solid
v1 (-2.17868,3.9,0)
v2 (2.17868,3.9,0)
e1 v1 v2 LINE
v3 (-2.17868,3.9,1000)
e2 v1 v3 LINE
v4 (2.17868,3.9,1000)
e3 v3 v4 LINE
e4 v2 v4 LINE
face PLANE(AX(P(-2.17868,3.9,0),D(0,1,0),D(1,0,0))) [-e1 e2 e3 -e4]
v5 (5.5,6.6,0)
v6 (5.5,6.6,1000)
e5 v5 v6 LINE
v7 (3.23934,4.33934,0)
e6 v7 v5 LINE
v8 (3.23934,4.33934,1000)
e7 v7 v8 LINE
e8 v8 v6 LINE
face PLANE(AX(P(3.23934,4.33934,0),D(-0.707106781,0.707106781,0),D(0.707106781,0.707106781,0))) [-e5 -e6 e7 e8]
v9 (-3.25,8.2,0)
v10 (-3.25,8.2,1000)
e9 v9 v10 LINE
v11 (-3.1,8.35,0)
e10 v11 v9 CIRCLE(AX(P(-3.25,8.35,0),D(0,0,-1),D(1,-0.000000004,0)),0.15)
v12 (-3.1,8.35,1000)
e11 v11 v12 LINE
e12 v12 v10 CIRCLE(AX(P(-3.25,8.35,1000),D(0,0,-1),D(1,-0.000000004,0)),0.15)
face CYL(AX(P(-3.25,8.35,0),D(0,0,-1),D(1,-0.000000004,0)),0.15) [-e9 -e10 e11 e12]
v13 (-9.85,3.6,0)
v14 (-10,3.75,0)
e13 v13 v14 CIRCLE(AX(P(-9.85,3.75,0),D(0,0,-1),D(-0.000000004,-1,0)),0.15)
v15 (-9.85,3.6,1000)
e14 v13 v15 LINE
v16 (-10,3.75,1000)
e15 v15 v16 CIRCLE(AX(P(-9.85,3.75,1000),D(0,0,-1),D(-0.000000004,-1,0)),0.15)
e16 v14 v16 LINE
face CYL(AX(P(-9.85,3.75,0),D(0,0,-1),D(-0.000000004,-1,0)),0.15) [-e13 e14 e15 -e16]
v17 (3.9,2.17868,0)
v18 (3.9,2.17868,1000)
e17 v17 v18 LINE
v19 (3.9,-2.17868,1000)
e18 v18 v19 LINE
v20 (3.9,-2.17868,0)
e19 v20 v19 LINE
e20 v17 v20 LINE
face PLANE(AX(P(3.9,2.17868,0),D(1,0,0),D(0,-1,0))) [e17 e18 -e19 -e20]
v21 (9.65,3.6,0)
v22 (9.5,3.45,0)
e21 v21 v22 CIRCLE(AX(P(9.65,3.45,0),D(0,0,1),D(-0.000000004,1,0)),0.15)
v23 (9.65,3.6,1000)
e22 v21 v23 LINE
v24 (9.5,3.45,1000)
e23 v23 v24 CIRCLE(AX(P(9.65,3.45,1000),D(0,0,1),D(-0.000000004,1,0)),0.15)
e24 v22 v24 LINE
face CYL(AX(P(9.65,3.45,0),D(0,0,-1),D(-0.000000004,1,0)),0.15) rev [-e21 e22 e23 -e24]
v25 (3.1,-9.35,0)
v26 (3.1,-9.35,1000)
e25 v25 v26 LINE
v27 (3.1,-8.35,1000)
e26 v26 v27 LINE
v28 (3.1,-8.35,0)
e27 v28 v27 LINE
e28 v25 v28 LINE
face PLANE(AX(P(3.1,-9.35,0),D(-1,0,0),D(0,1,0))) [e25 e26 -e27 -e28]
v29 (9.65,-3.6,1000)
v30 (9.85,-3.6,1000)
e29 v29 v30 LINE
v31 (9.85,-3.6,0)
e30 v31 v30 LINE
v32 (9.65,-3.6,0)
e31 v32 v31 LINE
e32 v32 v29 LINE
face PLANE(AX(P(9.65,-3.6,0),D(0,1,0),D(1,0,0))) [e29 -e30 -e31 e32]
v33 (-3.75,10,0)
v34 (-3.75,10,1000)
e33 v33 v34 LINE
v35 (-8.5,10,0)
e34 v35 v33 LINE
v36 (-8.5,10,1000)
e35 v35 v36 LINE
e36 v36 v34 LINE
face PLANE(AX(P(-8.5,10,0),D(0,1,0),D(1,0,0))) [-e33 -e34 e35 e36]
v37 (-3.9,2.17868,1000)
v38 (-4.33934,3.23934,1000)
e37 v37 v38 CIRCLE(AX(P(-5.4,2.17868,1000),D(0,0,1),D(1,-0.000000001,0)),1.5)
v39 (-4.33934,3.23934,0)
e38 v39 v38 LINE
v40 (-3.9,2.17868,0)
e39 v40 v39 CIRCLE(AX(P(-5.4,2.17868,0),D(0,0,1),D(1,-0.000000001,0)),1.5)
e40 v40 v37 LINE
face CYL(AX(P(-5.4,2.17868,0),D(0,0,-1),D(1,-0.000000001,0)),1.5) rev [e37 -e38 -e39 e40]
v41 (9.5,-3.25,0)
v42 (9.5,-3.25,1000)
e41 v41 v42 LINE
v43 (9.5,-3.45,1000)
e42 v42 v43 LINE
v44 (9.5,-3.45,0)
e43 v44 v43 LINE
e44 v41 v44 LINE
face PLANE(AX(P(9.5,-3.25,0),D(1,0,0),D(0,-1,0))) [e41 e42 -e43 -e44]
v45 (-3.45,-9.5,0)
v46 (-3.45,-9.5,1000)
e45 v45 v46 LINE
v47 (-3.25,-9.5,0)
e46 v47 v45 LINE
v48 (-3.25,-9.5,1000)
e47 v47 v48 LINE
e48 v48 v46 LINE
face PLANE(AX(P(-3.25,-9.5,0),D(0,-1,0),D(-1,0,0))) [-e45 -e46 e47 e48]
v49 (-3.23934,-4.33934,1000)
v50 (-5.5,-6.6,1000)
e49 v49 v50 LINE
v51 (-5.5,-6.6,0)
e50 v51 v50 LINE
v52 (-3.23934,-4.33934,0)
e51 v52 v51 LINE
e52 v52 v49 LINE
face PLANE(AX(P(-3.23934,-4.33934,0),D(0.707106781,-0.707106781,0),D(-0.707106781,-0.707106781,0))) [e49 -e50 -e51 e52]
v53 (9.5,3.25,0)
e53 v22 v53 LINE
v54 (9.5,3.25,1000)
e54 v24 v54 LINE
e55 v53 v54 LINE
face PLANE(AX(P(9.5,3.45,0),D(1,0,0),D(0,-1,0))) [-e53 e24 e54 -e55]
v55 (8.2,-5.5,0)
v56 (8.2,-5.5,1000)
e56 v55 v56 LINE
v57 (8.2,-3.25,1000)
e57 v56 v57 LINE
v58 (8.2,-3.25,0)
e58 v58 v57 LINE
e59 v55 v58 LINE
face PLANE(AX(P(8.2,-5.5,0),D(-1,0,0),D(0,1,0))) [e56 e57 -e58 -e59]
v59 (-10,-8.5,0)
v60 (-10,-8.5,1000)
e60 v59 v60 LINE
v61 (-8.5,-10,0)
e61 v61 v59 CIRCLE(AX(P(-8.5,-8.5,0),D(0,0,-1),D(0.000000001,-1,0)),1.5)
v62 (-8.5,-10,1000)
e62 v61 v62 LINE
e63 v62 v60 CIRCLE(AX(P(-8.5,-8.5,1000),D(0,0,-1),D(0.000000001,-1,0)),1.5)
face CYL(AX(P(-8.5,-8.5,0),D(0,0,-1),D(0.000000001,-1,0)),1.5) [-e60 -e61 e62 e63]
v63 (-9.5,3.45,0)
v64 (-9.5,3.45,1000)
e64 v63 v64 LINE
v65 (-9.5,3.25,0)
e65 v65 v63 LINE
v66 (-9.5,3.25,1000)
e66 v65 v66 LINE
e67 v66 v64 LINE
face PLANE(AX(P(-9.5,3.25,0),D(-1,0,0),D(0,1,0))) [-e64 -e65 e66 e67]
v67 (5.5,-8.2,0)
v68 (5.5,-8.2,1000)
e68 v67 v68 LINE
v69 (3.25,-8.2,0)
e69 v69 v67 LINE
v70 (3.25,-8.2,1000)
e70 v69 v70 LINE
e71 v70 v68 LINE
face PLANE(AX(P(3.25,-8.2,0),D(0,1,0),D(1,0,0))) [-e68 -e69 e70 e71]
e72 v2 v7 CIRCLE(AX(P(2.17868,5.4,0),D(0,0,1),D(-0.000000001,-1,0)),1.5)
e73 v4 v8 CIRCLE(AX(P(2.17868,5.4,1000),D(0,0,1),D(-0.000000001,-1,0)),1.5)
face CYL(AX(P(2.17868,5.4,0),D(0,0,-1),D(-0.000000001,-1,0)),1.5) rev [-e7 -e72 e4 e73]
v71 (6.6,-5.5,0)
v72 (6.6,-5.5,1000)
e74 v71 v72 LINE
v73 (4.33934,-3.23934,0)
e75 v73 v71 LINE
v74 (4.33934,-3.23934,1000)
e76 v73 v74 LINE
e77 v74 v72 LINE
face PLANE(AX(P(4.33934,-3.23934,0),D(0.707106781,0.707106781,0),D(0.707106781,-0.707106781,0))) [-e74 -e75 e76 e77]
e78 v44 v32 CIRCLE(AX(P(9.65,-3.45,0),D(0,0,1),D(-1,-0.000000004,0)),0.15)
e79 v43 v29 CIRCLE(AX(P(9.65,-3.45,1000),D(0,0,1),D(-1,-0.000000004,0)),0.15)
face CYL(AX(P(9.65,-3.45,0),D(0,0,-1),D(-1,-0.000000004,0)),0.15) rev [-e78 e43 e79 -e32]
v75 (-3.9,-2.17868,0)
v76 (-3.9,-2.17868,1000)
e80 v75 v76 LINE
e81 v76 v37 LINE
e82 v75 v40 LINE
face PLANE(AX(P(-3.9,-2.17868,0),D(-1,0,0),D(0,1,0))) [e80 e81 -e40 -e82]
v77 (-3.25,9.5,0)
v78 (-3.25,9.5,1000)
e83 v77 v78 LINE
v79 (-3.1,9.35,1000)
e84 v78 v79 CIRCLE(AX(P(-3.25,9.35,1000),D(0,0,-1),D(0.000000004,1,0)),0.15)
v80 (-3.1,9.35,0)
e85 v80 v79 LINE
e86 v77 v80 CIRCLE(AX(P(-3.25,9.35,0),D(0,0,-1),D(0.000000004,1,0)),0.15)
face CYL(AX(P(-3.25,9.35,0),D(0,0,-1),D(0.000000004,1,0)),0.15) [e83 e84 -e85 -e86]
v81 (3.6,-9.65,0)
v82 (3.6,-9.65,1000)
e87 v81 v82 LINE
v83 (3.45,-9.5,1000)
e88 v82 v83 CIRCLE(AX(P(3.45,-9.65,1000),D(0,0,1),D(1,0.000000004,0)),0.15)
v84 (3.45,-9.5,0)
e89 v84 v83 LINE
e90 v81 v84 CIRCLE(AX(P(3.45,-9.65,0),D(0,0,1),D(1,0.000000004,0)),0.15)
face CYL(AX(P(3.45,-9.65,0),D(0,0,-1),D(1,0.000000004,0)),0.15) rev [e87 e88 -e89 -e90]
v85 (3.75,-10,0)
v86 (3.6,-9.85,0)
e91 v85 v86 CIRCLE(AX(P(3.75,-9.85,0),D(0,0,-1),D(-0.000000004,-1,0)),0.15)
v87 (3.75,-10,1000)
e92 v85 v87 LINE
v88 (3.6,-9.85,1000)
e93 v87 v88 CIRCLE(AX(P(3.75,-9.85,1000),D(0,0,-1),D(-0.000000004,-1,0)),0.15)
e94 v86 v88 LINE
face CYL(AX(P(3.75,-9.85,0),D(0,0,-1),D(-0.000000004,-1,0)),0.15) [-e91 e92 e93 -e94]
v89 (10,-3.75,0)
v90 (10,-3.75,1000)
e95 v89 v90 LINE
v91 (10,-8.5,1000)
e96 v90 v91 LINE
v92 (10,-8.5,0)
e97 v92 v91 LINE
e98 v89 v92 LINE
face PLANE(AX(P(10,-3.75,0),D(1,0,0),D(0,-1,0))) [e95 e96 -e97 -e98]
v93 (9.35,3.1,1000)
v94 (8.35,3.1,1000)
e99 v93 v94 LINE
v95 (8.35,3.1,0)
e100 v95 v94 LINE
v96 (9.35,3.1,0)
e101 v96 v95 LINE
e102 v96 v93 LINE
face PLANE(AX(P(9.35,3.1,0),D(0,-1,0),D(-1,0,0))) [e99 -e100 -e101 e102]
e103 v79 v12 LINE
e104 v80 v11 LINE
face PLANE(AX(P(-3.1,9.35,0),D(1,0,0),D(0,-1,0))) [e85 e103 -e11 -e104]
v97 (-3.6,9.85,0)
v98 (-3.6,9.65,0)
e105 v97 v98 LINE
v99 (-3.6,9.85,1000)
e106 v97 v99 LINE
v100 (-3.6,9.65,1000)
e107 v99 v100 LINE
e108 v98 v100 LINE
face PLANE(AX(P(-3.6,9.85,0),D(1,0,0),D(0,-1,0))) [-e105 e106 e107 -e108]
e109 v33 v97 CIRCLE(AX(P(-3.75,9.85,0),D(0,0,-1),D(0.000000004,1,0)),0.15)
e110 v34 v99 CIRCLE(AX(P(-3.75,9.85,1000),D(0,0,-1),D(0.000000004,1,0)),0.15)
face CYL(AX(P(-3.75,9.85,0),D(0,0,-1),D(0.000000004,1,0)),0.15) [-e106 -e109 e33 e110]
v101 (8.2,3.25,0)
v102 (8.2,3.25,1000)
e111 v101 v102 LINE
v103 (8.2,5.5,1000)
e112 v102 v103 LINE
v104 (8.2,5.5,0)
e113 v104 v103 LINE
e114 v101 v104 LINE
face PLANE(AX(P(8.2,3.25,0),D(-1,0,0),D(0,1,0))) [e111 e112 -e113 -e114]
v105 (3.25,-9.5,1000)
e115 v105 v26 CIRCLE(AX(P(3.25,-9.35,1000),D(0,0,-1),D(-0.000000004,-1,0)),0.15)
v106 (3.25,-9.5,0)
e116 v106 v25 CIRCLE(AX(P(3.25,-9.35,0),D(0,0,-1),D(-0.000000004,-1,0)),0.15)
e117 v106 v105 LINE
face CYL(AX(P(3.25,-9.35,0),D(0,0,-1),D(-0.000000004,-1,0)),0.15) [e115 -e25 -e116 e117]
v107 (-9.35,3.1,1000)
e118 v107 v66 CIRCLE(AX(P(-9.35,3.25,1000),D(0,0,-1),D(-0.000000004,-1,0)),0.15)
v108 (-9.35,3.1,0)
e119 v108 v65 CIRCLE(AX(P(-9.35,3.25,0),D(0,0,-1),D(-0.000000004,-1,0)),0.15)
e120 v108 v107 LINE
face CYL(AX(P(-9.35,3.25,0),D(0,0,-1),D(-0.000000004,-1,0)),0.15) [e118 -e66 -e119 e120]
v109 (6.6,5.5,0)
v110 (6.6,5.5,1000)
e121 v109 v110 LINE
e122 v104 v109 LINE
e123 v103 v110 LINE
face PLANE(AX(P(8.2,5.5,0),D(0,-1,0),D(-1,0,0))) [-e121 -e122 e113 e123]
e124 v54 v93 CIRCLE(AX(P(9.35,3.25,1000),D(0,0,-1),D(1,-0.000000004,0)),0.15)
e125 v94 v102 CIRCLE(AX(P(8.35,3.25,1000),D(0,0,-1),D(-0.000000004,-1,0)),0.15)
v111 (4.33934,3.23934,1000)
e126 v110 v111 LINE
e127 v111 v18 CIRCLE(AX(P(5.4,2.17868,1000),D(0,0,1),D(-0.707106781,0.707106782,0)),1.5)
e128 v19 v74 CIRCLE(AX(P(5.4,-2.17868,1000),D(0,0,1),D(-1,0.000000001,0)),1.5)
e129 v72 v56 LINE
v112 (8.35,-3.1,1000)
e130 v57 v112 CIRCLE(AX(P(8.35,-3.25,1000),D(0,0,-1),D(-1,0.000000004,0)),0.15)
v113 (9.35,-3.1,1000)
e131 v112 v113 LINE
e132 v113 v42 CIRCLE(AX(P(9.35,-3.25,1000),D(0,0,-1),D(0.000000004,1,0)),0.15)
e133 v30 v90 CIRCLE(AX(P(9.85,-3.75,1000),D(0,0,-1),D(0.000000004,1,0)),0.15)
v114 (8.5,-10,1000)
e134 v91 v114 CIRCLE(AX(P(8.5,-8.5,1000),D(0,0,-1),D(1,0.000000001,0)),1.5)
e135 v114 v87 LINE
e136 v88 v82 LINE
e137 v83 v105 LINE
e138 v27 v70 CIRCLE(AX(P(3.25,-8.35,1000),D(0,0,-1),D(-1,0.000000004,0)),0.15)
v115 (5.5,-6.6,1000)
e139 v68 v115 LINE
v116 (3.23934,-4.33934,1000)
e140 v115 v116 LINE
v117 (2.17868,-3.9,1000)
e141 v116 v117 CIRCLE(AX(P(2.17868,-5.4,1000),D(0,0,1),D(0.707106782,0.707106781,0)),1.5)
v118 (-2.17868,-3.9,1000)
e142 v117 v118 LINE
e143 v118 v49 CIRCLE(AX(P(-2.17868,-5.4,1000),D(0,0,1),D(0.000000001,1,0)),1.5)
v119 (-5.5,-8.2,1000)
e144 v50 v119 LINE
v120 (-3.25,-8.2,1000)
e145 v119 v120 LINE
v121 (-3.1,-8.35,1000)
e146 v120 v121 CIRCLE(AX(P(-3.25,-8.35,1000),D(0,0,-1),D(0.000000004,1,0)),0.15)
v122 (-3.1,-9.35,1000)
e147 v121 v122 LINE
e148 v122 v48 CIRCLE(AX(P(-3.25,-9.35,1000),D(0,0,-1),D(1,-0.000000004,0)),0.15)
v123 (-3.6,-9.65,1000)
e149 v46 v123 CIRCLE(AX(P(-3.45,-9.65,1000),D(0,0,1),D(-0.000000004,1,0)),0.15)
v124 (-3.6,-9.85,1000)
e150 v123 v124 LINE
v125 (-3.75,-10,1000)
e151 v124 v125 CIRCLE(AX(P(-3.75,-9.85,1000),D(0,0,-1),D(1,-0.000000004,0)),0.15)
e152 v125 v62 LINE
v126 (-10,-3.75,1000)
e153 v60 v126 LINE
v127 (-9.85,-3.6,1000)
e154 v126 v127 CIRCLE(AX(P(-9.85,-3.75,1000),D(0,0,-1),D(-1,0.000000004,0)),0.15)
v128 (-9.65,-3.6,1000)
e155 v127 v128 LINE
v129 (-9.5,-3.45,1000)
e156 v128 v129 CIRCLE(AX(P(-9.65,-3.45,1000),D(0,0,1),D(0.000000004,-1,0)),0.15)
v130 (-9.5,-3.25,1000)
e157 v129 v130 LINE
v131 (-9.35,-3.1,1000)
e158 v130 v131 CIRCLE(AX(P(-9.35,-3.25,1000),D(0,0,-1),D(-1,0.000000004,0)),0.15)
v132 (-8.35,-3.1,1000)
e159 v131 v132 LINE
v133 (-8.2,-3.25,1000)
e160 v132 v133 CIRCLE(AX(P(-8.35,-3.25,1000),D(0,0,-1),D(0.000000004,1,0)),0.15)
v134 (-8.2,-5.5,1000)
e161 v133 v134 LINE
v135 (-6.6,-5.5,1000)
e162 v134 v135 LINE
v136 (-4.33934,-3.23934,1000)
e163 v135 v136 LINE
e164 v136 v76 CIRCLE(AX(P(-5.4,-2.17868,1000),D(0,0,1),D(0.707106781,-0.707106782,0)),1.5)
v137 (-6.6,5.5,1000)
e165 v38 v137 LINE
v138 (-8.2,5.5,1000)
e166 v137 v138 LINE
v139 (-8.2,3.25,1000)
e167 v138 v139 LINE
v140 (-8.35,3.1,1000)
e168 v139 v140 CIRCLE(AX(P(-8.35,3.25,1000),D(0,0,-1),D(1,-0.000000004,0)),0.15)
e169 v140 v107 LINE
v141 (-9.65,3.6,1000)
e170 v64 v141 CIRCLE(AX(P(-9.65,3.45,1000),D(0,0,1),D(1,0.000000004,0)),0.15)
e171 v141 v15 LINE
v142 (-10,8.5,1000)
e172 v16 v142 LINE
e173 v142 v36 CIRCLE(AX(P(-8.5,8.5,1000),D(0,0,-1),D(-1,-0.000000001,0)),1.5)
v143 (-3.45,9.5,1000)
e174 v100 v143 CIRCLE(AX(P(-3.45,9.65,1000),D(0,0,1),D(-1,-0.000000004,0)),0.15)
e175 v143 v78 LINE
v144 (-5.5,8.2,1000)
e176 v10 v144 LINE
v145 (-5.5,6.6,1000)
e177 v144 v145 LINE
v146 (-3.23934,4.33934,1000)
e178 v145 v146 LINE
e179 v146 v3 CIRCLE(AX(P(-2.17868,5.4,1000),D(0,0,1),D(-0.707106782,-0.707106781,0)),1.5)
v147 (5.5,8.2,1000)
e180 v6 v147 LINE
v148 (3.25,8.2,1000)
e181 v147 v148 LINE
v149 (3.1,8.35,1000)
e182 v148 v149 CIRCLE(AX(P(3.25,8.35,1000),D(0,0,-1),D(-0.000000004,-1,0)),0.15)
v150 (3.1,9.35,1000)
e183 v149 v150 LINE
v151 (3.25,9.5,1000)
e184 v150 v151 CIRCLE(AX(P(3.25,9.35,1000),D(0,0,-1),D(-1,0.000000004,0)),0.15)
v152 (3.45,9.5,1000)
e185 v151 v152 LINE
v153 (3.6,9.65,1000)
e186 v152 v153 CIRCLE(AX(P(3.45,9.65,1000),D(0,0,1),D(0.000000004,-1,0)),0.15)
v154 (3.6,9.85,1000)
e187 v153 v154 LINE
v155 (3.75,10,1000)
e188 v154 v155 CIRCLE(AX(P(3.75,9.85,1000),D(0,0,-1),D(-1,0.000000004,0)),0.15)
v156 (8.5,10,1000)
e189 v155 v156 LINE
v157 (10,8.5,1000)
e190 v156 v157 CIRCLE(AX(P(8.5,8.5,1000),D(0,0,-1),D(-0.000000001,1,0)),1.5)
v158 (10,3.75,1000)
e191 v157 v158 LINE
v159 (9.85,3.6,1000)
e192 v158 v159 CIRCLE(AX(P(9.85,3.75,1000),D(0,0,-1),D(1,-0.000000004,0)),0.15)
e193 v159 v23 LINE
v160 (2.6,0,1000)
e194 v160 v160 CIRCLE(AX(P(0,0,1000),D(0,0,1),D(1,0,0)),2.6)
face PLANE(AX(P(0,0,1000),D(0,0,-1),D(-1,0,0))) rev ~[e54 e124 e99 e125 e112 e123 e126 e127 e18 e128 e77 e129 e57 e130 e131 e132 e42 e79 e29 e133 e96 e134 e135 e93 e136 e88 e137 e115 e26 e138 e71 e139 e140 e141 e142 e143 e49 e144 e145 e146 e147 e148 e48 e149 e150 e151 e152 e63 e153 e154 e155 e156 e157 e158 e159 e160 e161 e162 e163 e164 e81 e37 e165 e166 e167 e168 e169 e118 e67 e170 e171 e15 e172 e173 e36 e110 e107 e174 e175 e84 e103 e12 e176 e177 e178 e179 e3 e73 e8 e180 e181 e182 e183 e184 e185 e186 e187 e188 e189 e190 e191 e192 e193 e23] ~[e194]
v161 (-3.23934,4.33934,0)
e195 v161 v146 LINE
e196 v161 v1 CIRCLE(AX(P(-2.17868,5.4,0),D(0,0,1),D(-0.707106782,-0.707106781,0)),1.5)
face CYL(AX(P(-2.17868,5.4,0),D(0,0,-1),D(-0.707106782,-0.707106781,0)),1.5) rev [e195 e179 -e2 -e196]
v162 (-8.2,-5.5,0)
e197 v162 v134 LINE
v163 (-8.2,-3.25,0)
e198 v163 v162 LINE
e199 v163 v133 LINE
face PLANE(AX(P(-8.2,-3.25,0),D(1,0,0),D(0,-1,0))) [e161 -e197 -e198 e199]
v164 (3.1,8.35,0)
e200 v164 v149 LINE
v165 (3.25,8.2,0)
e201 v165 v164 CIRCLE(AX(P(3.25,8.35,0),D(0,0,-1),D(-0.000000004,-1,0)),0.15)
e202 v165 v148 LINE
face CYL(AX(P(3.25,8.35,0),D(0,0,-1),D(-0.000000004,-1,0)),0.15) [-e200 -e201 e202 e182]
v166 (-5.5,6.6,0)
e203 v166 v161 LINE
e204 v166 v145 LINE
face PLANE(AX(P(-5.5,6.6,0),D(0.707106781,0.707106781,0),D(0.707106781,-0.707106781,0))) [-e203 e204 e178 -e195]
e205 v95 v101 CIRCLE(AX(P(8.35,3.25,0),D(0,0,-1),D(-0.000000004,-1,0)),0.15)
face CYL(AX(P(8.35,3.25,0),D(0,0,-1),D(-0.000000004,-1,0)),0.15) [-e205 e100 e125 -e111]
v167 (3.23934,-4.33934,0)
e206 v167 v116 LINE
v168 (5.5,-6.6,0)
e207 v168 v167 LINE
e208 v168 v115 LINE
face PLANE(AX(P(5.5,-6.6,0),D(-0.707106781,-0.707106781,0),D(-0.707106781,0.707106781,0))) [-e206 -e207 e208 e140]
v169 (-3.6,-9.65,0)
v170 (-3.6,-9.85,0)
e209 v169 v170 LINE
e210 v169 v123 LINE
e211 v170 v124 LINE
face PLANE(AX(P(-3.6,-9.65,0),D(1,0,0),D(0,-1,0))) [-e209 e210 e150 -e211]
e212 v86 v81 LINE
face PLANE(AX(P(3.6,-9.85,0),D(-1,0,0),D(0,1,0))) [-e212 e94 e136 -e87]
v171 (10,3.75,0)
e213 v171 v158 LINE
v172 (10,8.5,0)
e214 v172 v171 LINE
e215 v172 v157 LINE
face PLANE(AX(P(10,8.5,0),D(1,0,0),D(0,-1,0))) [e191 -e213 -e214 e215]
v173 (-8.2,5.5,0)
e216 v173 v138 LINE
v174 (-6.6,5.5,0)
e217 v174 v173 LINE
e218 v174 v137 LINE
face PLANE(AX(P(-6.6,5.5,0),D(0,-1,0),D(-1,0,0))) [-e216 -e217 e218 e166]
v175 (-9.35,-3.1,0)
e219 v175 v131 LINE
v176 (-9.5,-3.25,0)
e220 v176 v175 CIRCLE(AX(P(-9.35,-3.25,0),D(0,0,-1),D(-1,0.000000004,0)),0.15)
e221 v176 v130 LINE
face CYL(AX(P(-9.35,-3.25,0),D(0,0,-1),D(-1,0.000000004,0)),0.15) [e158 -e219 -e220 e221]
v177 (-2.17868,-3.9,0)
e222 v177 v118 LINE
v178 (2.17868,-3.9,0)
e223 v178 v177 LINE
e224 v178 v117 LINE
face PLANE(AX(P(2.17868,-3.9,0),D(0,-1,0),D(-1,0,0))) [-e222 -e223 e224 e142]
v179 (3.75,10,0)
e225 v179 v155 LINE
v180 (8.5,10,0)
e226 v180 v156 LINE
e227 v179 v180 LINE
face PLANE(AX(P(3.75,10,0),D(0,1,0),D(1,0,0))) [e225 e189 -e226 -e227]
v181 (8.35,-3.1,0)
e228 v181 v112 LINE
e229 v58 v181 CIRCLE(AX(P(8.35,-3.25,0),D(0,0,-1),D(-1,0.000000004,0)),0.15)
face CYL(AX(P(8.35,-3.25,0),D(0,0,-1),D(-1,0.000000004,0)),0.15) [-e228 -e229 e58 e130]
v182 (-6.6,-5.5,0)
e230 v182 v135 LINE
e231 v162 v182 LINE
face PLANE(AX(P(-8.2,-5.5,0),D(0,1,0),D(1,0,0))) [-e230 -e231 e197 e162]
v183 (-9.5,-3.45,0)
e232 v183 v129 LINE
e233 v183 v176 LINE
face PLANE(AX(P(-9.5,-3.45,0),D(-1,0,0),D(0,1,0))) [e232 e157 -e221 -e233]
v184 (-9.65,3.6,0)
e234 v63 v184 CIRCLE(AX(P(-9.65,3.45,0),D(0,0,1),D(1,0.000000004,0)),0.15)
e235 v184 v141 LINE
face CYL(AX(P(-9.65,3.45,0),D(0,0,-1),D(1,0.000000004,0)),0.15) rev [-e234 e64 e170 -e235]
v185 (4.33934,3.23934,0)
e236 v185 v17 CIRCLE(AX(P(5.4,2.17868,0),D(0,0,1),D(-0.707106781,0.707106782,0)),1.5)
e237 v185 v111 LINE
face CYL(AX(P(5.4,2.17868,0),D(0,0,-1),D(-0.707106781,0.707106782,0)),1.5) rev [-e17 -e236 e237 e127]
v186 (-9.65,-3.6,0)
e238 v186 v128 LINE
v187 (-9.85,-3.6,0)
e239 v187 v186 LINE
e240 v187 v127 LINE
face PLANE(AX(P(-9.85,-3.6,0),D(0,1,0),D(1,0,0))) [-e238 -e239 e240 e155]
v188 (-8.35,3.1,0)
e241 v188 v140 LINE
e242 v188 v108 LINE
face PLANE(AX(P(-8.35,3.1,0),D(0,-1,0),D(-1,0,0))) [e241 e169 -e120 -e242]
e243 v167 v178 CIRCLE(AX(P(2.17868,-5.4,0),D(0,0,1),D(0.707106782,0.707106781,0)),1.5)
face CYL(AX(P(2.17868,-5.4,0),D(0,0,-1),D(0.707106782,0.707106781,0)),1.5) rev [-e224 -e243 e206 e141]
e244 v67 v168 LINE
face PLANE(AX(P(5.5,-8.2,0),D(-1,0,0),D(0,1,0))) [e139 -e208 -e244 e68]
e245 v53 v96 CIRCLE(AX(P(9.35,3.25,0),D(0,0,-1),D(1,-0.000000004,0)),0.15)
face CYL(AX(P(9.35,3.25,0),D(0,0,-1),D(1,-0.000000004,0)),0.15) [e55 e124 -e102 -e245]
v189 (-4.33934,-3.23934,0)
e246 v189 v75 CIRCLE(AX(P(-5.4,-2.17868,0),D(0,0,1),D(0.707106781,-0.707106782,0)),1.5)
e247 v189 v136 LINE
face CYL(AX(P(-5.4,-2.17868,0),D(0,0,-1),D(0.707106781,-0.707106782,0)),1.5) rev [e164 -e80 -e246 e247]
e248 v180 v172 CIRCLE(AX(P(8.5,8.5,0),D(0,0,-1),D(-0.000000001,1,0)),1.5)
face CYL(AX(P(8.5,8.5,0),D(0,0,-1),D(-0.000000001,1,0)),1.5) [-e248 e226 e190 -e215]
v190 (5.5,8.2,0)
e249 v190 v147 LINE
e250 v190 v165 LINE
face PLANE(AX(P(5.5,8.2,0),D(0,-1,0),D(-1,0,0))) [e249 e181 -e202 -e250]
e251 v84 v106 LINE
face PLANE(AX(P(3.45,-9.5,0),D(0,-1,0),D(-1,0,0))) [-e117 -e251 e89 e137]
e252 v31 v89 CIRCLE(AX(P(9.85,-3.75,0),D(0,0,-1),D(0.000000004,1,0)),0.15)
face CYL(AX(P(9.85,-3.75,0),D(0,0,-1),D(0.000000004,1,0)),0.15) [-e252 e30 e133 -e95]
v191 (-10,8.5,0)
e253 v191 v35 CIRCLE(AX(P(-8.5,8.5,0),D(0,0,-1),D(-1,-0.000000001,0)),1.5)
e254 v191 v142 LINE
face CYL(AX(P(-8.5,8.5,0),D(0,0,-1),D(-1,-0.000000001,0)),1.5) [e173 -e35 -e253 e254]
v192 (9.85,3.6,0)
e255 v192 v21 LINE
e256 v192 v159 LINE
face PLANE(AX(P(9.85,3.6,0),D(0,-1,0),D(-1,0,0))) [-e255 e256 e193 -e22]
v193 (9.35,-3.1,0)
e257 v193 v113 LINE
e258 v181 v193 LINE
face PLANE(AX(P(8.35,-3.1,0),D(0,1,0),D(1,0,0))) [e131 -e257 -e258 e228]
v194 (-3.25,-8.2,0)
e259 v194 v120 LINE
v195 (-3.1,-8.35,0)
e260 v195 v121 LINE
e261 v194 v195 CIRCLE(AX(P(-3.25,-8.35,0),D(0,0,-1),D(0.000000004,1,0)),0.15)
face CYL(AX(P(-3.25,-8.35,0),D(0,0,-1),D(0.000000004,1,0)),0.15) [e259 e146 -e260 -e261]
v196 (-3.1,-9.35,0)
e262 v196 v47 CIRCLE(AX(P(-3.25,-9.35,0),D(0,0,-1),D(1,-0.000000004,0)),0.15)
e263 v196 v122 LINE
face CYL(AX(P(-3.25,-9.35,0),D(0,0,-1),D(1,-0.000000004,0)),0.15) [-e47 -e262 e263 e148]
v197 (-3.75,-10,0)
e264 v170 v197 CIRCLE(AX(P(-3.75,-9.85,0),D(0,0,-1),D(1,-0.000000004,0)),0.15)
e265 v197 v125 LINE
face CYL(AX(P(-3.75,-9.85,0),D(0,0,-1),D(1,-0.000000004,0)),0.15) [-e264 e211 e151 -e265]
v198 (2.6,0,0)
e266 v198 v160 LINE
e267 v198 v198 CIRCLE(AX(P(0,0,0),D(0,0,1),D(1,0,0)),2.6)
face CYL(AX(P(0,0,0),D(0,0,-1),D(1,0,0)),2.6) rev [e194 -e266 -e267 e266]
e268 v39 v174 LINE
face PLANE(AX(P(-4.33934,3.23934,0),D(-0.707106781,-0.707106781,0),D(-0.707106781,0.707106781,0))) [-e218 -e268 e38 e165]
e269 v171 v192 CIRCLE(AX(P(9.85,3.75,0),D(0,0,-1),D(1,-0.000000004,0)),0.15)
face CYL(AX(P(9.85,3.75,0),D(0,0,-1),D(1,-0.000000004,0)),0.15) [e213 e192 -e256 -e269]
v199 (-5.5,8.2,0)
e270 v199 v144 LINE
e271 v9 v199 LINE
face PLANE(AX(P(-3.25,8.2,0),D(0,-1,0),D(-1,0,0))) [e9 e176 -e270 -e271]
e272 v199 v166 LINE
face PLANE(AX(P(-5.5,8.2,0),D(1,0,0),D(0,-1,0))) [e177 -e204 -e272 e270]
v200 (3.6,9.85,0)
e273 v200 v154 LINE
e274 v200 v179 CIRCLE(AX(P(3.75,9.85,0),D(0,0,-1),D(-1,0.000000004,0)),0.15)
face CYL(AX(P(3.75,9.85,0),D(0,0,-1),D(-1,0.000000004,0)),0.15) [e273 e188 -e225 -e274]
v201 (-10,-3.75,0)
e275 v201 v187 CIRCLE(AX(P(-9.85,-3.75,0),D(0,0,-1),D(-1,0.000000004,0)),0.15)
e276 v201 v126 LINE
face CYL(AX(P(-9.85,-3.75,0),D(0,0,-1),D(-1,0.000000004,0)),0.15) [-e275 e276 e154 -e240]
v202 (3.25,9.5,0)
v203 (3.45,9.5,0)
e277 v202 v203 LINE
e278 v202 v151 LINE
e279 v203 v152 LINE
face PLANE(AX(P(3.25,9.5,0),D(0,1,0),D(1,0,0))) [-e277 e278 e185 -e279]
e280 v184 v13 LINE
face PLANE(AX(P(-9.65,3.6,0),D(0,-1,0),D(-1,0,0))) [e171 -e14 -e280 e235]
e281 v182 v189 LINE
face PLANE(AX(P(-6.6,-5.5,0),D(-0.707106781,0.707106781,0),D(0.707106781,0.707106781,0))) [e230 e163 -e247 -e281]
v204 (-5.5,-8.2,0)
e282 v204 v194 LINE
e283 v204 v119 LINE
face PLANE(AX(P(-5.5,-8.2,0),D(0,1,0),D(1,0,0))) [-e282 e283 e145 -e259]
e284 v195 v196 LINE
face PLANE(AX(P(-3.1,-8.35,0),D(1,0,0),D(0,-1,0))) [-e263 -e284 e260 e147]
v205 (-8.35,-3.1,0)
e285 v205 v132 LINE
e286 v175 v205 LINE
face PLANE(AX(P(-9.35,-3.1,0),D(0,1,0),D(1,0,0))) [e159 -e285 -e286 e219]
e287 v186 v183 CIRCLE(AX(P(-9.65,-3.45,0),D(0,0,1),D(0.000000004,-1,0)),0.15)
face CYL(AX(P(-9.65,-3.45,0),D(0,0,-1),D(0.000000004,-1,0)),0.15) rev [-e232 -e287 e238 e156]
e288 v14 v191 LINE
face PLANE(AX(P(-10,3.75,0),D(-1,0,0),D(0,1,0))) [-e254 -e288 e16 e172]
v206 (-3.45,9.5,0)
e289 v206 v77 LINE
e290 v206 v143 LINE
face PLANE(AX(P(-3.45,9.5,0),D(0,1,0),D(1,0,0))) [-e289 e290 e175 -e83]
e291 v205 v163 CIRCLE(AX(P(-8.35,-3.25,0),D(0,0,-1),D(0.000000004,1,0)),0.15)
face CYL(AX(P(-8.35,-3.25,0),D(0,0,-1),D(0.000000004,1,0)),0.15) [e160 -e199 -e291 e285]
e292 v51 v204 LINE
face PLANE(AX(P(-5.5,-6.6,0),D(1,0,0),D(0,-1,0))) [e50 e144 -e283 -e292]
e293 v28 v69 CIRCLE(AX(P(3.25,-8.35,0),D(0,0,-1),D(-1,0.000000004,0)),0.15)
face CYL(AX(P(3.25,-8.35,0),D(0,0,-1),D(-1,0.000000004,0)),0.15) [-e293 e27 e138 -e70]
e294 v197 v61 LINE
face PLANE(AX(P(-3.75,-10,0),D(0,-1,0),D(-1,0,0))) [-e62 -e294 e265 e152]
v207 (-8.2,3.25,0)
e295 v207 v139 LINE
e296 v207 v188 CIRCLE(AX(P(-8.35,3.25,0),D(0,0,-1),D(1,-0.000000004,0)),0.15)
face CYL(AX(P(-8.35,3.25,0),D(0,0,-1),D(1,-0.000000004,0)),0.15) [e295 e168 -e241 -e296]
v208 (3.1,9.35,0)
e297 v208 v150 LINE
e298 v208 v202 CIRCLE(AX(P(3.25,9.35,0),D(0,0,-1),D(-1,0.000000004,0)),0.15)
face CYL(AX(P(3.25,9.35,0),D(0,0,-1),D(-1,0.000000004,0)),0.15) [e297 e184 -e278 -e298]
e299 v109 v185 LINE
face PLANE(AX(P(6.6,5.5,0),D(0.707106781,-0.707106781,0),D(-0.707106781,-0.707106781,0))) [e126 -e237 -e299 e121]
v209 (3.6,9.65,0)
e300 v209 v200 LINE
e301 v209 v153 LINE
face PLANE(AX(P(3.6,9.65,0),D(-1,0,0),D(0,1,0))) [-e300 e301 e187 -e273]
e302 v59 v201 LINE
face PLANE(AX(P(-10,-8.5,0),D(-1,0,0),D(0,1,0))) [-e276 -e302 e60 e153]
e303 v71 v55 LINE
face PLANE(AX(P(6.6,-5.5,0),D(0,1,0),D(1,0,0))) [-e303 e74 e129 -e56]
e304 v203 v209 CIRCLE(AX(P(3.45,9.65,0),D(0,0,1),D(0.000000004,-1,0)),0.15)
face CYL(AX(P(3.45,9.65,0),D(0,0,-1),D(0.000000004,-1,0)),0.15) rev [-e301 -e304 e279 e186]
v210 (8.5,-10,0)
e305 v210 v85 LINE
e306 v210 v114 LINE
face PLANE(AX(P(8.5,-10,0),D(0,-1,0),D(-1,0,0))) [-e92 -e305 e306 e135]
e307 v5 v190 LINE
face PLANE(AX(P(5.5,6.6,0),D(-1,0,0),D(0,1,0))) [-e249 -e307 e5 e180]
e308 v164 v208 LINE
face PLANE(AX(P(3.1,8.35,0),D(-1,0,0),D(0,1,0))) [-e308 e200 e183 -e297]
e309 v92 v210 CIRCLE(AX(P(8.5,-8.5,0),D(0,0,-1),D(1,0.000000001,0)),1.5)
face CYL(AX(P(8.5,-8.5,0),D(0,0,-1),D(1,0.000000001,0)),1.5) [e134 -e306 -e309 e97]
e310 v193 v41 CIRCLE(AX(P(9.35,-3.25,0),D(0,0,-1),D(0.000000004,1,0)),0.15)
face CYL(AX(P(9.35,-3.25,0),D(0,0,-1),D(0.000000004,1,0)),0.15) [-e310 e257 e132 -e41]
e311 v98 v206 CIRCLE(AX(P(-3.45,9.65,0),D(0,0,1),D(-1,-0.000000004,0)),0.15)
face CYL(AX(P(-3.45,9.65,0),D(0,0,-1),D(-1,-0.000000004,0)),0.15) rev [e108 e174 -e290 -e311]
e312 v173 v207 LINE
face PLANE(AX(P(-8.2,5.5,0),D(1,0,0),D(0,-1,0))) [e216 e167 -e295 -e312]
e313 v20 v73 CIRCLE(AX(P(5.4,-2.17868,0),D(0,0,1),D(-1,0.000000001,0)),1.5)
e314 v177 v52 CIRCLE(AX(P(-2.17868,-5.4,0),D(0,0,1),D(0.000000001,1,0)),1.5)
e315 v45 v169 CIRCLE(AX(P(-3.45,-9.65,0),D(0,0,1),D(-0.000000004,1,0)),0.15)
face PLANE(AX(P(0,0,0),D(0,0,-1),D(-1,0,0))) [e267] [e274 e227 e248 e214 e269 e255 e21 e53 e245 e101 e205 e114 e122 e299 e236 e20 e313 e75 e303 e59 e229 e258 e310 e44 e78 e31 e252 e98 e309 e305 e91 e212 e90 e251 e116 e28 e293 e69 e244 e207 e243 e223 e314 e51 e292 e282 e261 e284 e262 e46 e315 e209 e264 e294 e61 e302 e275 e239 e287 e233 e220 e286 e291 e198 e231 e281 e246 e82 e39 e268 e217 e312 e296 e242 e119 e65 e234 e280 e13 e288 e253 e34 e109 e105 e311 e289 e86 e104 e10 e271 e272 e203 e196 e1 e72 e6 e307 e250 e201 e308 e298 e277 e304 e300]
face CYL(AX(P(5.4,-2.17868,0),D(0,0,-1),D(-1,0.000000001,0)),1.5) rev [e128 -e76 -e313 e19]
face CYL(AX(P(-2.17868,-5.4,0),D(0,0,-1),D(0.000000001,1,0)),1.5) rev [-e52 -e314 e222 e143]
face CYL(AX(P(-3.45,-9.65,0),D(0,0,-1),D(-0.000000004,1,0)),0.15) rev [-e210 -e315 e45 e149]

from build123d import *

# Parameters (mm, degrees)
SKETCH_3_R      = 2.6
EXTRUDE_1_DEPTH = 1000


with BuildPart() as part:
    # Эскиз3 → Бобышка-Вытянуть1 (new body)
    with BuildSketch(Plane.XY):
        with BuildLine():
            Line((-10, 5.5), (-10, 8.5))
            ThreePointArc((-10, 8.5), (-9.560660172, 9.560660172), (-8.5, 10))
            Line((-8.5, 10), (-5.5, 10))
            Line((-5.5, 10), (-3.75, 10))
            ThreePointArc((-3.75, 10), (-3.643933983, 9.956066017), (-3.6, 9.85))
            Line((-3.6, 9.85), (-3.6, 9.65))
            ThreePointArc((-3.6, 9.65), (-3.556066017, 9.543933983), (-3.45, 9.5))
            Line((-3.45, 9.5), (-3.25, 9.5))
            ThreePointArc((-3.25, 9.5), (-3.143933983, 9.456066017), (-3.1, 9.35))
            Line((-3.1, 9.35), (-3.1, 8.35))
            ThreePointArc((-3.1, 8.35), (-3.143933983, 8.243933983), (-3.25, 8.2))
            Line((-3.25, 8.2), (-5.5, 8.2))
            Line((-5.5, 8.2), (-5.5, 6.6))
            Line((-5.5, 6.6), (-3.239339828, 4.339339828))
            ThreePointArc((-3.239339828, 4.339339828), (-2.752704805, 4.014180701), (-2.178679656, 3.9))
            Line((-2.178679656, 3.9), (2.178679656, 3.9))
            ThreePointArc((2.178679656, 3.9), (2.752704805, 4.014180701), (3.239339828, 4.339339828))
            Line((3.239339828, 4.339339828), (5.5, 6.6))
            Line((5.5, 6.6), (5.5, 8.2))
            Line((5.5, 8.2), (3.25, 8.2))
            ThreePointArc((3.25, 8.2), (3.143933983, 8.243933983), (3.1, 8.35))
            Line((3.1, 8.35), (3.1, 9.35))
            ThreePointArc((3.1, 9.35), (3.143933983, 9.456066017), (3.25, 9.5))
            Line((3.25, 9.5), (3.45, 9.5))
            ThreePointArc((3.45, 9.5), (3.556066017, 9.543933983), (3.6, 9.65))
            Line((3.6, 9.65), (3.6, 9.85))
            ThreePointArc((3.6, 9.85), (3.643933983, 9.956066017), (3.75, 10))
            Line((3.75, 10), (5.5, 10))
            Line((5.5, 10), (8.5, 10))
            ThreePointArc((8.5, 10), (9.560660172, 9.560660172), (10, 8.5))
            Line((10, 8.5), (10, 5.5))
            Line((10, 5.5), (10, 3.75))
            ThreePointArc((10, 3.75), (9.956066017, 3.643933983), (9.85, 3.6))
            Line((9.85, 3.6), (9.65, 3.6))
            ThreePointArc((9.65, 3.6), (9.543933983, 3.556066017), (9.5, 3.45))
            Line((9.5, 3.45), (9.5, 3.25))
            ThreePointArc((9.5, 3.25), (9.456066017, 3.143933983), (9.35, 3.1))
            Line((9.35, 3.1), (8.35, 3.1))
            ThreePointArc((8.35, 3.1), (8.243933983, 3.143933983), (8.2, 3.25))
            Line((8.2, 3.25), (8.2, 5.5))
            Line((8.2, 5.5), (6.6, 5.5))
            Line((6.6, 5.5), (4.339339828, 3.239339828))
            ThreePointArc((4.339339828, 3.239339828), (4.014180701, 2.752704805), (3.9, 2.178679656))
            Line((3.9, 2.178679656), (3.9, -2.178679656))
            ThreePointArc((3.9, -2.178679656), (4.014180701, -2.752704805), (4.339339828, -3.239339828))
            Line((4.339339828, -3.239339828), (6.6, -5.5))
            Line((6.6, -5.5), (8.2, -5.5))
            Line((8.2, -5.5), (8.2, -3.25))
            ThreePointArc((8.2, -3.25), (8.243933983, -3.143933983), (8.35, -3.1))
            Line((8.35, -3.1), (9.35, -3.1))
            ThreePointArc((9.35, -3.1), (9.456066017, -3.143933983), (9.5, -3.25))
            Line((9.5, -3.25), (9.5, -3.45))
            ThreePointArc((9.5, -3.45), (9.543933983, -3.556066017), (9.65, -3.6))
            Line((9.65, -3.6), (9.85, -3.6))
            ThreePointArc((9.85, -3.6), (9.956066017, -3.643933983), (10, -3.75))
            Line((10, -3.75), (10, -5.5))
            Line((10, -5.5), (10, -8.5))
            ThreePointArc((10, -8.5), (9.560660172, -9.560660172), (8.5, -10))
            Line((8.5, -10), (5.5, -10))
            Line((5.5, -10), (3.75, -10))
            ThreePointArc((3.75, -10), (3.643933983, -9.956066017), (3.6, -9.85))
            Line((3.6, -9.85), (3.6, -9.65))
            ThreePointArc((3.6, -9.65), (3.556066017, -9.543933983), (3.45, -9.5))
            Line((3.45, -9.5), (3.25, -9.5))
            ThreePointArc((3.25, -9.5), (3.143933983, -9.456066017), (3.1, -9.35))
            Line((3.1, -9.35), (3.1, -8.35))
            ThreePointArc((3.1, -8.35), (3.143933983, -8.243933983), (3.25, -8.2))
            Line((3.25, -8.2), (5.5, -8.2))
            Line((5.5, -8.2), (5.5, -6.6))
            Line((5.5, -6.6), (3.239339828, -4.339339828))
            ThreePointArc((3.239339828, -4.339339828), (2.752704805, -4.014180701), (2.178679656, -3.9))
            Line((2.178679656, -3.9), (-2.178679656, -3.9))
            ThreePointArc((-2.178679656, -3.9), (-2.752704805, -4.014180701), (-3.239339828, -4.339339828))
            Line((-3.239339828, -4.339339828), (-5.5, -6.6))
            Line((-5.5, -6.6), (-5.5, -8.2))
            Line((-5.5, -8.2), (-3.25, -8.2))
            ThreePointArc((-3.25, -8.2), (-3.143933983, -8.243933983), (-3.1, -8.35))
            Line((-3.1, -8.35), (-3.1, -9.35))
            ThreePointArc((-3.1, -9.35), (-3.143933983, -9.456066017), (-3.25, -9.5))
            Line((-3.25, -9.5), (-3.45, -9.5))
            ThreePointArc((-3.45, -9.5), (-3.556066017, -9.543933983), (-3.6, -9.65))
            Line((-3.6, -9.65), (-3.6, -9.85))
            ThreePointArc((-3.6, -9.85), (-3.643933983, -9.956066017), (-3.75, -10))
            Line((-3.75, -10), (-5.5, -10))
            Line((-5.5, -10), (-8.5, -10))
            ThreePointArc((-8.5, -10), (-9.560660172, -9.560660172), (-10, -8.5))
            Line((-10, -8.5), (-10, -5.5))
            Line((-10, -5.5), (-10, -3.75))
            ThreePointArc((-10, -3.75), (-9.956066017, -3.643933983), (-9.85, -3.6))
            Line((-9.85, -3.6), (-9.65, -3.6))
            ThreePointArc((-9.65, -3.6), (-9.543933983, -3.556066017), (-9.5, -3.45))
            Line((-9.5, -3.45), (-9.5, -3.25))
            ThreePointArc((-9.5, -3.25), (-9.456066017, -3.143933983), (-9.35, -3.1))
            Line((-9.35, -3.1), (-8.35, -3.1))
            ThreePointArc((-8.35, -3.1), (-8.243933983, -3.143933983), (-8.2, -3.25))
            Line((-8.2, -3.25), (-8.2, -5.5))
            Line((-8.2, -5.5), (-6.6, -5.5))
            Line((-6.6, -5.5), (-4.339339828, -3.239339828))
            ThreePointArc((-4.339339828, -3.239339828), (-4.014180701, -2.752704805), (-3.9, -2.178679656))
            Line((-3.9, -2.178679656), (-3.9, 2.178679656))
            ThreePointArc((-3.9, 2.178679656), (-4.014180701, 2.752704805), (-4.339339828, 3.239339828))
            Line((-4.339339828, 3.239339828), (-6.6, 5.5))
            Line((-6.6, 5.5), (-8.2, 5.5))
            Line((-8.2, 5.5), (-8.2, 3.25))
            ThreePointArc((-8.2, 3.25), (-8.243933983, 3.143933983), (-8.35, 3.1))
            Line((-8.35, 3.1), (-9.35, 3.1))
            ThreePointArc((-9.35, 3.1), (-9.456066017, 3.143933983), (-9.5, 3.25))
            Line((-9.5, 3.25), (-9.5, 3.45))
            ThreePointArc((-9.5, 3.45), (-9.543933983, 3.556066017), (-9.65, 3.6))
            Line((-9.65, 3.6), (-9.85, 3.6))
            ThreePointArc((-9.85, 3.6), (-9.956066017, 3.643933983), (-10, 3.75))
            Line((-10, 3.75), (-10, 5.5))
        make_face()
        Circle(SKETCH_3_R, mode=Mode.SUBTRACT)
    extrude(amount=EXTRUDE_1_DEPTH)


solid = part.part
